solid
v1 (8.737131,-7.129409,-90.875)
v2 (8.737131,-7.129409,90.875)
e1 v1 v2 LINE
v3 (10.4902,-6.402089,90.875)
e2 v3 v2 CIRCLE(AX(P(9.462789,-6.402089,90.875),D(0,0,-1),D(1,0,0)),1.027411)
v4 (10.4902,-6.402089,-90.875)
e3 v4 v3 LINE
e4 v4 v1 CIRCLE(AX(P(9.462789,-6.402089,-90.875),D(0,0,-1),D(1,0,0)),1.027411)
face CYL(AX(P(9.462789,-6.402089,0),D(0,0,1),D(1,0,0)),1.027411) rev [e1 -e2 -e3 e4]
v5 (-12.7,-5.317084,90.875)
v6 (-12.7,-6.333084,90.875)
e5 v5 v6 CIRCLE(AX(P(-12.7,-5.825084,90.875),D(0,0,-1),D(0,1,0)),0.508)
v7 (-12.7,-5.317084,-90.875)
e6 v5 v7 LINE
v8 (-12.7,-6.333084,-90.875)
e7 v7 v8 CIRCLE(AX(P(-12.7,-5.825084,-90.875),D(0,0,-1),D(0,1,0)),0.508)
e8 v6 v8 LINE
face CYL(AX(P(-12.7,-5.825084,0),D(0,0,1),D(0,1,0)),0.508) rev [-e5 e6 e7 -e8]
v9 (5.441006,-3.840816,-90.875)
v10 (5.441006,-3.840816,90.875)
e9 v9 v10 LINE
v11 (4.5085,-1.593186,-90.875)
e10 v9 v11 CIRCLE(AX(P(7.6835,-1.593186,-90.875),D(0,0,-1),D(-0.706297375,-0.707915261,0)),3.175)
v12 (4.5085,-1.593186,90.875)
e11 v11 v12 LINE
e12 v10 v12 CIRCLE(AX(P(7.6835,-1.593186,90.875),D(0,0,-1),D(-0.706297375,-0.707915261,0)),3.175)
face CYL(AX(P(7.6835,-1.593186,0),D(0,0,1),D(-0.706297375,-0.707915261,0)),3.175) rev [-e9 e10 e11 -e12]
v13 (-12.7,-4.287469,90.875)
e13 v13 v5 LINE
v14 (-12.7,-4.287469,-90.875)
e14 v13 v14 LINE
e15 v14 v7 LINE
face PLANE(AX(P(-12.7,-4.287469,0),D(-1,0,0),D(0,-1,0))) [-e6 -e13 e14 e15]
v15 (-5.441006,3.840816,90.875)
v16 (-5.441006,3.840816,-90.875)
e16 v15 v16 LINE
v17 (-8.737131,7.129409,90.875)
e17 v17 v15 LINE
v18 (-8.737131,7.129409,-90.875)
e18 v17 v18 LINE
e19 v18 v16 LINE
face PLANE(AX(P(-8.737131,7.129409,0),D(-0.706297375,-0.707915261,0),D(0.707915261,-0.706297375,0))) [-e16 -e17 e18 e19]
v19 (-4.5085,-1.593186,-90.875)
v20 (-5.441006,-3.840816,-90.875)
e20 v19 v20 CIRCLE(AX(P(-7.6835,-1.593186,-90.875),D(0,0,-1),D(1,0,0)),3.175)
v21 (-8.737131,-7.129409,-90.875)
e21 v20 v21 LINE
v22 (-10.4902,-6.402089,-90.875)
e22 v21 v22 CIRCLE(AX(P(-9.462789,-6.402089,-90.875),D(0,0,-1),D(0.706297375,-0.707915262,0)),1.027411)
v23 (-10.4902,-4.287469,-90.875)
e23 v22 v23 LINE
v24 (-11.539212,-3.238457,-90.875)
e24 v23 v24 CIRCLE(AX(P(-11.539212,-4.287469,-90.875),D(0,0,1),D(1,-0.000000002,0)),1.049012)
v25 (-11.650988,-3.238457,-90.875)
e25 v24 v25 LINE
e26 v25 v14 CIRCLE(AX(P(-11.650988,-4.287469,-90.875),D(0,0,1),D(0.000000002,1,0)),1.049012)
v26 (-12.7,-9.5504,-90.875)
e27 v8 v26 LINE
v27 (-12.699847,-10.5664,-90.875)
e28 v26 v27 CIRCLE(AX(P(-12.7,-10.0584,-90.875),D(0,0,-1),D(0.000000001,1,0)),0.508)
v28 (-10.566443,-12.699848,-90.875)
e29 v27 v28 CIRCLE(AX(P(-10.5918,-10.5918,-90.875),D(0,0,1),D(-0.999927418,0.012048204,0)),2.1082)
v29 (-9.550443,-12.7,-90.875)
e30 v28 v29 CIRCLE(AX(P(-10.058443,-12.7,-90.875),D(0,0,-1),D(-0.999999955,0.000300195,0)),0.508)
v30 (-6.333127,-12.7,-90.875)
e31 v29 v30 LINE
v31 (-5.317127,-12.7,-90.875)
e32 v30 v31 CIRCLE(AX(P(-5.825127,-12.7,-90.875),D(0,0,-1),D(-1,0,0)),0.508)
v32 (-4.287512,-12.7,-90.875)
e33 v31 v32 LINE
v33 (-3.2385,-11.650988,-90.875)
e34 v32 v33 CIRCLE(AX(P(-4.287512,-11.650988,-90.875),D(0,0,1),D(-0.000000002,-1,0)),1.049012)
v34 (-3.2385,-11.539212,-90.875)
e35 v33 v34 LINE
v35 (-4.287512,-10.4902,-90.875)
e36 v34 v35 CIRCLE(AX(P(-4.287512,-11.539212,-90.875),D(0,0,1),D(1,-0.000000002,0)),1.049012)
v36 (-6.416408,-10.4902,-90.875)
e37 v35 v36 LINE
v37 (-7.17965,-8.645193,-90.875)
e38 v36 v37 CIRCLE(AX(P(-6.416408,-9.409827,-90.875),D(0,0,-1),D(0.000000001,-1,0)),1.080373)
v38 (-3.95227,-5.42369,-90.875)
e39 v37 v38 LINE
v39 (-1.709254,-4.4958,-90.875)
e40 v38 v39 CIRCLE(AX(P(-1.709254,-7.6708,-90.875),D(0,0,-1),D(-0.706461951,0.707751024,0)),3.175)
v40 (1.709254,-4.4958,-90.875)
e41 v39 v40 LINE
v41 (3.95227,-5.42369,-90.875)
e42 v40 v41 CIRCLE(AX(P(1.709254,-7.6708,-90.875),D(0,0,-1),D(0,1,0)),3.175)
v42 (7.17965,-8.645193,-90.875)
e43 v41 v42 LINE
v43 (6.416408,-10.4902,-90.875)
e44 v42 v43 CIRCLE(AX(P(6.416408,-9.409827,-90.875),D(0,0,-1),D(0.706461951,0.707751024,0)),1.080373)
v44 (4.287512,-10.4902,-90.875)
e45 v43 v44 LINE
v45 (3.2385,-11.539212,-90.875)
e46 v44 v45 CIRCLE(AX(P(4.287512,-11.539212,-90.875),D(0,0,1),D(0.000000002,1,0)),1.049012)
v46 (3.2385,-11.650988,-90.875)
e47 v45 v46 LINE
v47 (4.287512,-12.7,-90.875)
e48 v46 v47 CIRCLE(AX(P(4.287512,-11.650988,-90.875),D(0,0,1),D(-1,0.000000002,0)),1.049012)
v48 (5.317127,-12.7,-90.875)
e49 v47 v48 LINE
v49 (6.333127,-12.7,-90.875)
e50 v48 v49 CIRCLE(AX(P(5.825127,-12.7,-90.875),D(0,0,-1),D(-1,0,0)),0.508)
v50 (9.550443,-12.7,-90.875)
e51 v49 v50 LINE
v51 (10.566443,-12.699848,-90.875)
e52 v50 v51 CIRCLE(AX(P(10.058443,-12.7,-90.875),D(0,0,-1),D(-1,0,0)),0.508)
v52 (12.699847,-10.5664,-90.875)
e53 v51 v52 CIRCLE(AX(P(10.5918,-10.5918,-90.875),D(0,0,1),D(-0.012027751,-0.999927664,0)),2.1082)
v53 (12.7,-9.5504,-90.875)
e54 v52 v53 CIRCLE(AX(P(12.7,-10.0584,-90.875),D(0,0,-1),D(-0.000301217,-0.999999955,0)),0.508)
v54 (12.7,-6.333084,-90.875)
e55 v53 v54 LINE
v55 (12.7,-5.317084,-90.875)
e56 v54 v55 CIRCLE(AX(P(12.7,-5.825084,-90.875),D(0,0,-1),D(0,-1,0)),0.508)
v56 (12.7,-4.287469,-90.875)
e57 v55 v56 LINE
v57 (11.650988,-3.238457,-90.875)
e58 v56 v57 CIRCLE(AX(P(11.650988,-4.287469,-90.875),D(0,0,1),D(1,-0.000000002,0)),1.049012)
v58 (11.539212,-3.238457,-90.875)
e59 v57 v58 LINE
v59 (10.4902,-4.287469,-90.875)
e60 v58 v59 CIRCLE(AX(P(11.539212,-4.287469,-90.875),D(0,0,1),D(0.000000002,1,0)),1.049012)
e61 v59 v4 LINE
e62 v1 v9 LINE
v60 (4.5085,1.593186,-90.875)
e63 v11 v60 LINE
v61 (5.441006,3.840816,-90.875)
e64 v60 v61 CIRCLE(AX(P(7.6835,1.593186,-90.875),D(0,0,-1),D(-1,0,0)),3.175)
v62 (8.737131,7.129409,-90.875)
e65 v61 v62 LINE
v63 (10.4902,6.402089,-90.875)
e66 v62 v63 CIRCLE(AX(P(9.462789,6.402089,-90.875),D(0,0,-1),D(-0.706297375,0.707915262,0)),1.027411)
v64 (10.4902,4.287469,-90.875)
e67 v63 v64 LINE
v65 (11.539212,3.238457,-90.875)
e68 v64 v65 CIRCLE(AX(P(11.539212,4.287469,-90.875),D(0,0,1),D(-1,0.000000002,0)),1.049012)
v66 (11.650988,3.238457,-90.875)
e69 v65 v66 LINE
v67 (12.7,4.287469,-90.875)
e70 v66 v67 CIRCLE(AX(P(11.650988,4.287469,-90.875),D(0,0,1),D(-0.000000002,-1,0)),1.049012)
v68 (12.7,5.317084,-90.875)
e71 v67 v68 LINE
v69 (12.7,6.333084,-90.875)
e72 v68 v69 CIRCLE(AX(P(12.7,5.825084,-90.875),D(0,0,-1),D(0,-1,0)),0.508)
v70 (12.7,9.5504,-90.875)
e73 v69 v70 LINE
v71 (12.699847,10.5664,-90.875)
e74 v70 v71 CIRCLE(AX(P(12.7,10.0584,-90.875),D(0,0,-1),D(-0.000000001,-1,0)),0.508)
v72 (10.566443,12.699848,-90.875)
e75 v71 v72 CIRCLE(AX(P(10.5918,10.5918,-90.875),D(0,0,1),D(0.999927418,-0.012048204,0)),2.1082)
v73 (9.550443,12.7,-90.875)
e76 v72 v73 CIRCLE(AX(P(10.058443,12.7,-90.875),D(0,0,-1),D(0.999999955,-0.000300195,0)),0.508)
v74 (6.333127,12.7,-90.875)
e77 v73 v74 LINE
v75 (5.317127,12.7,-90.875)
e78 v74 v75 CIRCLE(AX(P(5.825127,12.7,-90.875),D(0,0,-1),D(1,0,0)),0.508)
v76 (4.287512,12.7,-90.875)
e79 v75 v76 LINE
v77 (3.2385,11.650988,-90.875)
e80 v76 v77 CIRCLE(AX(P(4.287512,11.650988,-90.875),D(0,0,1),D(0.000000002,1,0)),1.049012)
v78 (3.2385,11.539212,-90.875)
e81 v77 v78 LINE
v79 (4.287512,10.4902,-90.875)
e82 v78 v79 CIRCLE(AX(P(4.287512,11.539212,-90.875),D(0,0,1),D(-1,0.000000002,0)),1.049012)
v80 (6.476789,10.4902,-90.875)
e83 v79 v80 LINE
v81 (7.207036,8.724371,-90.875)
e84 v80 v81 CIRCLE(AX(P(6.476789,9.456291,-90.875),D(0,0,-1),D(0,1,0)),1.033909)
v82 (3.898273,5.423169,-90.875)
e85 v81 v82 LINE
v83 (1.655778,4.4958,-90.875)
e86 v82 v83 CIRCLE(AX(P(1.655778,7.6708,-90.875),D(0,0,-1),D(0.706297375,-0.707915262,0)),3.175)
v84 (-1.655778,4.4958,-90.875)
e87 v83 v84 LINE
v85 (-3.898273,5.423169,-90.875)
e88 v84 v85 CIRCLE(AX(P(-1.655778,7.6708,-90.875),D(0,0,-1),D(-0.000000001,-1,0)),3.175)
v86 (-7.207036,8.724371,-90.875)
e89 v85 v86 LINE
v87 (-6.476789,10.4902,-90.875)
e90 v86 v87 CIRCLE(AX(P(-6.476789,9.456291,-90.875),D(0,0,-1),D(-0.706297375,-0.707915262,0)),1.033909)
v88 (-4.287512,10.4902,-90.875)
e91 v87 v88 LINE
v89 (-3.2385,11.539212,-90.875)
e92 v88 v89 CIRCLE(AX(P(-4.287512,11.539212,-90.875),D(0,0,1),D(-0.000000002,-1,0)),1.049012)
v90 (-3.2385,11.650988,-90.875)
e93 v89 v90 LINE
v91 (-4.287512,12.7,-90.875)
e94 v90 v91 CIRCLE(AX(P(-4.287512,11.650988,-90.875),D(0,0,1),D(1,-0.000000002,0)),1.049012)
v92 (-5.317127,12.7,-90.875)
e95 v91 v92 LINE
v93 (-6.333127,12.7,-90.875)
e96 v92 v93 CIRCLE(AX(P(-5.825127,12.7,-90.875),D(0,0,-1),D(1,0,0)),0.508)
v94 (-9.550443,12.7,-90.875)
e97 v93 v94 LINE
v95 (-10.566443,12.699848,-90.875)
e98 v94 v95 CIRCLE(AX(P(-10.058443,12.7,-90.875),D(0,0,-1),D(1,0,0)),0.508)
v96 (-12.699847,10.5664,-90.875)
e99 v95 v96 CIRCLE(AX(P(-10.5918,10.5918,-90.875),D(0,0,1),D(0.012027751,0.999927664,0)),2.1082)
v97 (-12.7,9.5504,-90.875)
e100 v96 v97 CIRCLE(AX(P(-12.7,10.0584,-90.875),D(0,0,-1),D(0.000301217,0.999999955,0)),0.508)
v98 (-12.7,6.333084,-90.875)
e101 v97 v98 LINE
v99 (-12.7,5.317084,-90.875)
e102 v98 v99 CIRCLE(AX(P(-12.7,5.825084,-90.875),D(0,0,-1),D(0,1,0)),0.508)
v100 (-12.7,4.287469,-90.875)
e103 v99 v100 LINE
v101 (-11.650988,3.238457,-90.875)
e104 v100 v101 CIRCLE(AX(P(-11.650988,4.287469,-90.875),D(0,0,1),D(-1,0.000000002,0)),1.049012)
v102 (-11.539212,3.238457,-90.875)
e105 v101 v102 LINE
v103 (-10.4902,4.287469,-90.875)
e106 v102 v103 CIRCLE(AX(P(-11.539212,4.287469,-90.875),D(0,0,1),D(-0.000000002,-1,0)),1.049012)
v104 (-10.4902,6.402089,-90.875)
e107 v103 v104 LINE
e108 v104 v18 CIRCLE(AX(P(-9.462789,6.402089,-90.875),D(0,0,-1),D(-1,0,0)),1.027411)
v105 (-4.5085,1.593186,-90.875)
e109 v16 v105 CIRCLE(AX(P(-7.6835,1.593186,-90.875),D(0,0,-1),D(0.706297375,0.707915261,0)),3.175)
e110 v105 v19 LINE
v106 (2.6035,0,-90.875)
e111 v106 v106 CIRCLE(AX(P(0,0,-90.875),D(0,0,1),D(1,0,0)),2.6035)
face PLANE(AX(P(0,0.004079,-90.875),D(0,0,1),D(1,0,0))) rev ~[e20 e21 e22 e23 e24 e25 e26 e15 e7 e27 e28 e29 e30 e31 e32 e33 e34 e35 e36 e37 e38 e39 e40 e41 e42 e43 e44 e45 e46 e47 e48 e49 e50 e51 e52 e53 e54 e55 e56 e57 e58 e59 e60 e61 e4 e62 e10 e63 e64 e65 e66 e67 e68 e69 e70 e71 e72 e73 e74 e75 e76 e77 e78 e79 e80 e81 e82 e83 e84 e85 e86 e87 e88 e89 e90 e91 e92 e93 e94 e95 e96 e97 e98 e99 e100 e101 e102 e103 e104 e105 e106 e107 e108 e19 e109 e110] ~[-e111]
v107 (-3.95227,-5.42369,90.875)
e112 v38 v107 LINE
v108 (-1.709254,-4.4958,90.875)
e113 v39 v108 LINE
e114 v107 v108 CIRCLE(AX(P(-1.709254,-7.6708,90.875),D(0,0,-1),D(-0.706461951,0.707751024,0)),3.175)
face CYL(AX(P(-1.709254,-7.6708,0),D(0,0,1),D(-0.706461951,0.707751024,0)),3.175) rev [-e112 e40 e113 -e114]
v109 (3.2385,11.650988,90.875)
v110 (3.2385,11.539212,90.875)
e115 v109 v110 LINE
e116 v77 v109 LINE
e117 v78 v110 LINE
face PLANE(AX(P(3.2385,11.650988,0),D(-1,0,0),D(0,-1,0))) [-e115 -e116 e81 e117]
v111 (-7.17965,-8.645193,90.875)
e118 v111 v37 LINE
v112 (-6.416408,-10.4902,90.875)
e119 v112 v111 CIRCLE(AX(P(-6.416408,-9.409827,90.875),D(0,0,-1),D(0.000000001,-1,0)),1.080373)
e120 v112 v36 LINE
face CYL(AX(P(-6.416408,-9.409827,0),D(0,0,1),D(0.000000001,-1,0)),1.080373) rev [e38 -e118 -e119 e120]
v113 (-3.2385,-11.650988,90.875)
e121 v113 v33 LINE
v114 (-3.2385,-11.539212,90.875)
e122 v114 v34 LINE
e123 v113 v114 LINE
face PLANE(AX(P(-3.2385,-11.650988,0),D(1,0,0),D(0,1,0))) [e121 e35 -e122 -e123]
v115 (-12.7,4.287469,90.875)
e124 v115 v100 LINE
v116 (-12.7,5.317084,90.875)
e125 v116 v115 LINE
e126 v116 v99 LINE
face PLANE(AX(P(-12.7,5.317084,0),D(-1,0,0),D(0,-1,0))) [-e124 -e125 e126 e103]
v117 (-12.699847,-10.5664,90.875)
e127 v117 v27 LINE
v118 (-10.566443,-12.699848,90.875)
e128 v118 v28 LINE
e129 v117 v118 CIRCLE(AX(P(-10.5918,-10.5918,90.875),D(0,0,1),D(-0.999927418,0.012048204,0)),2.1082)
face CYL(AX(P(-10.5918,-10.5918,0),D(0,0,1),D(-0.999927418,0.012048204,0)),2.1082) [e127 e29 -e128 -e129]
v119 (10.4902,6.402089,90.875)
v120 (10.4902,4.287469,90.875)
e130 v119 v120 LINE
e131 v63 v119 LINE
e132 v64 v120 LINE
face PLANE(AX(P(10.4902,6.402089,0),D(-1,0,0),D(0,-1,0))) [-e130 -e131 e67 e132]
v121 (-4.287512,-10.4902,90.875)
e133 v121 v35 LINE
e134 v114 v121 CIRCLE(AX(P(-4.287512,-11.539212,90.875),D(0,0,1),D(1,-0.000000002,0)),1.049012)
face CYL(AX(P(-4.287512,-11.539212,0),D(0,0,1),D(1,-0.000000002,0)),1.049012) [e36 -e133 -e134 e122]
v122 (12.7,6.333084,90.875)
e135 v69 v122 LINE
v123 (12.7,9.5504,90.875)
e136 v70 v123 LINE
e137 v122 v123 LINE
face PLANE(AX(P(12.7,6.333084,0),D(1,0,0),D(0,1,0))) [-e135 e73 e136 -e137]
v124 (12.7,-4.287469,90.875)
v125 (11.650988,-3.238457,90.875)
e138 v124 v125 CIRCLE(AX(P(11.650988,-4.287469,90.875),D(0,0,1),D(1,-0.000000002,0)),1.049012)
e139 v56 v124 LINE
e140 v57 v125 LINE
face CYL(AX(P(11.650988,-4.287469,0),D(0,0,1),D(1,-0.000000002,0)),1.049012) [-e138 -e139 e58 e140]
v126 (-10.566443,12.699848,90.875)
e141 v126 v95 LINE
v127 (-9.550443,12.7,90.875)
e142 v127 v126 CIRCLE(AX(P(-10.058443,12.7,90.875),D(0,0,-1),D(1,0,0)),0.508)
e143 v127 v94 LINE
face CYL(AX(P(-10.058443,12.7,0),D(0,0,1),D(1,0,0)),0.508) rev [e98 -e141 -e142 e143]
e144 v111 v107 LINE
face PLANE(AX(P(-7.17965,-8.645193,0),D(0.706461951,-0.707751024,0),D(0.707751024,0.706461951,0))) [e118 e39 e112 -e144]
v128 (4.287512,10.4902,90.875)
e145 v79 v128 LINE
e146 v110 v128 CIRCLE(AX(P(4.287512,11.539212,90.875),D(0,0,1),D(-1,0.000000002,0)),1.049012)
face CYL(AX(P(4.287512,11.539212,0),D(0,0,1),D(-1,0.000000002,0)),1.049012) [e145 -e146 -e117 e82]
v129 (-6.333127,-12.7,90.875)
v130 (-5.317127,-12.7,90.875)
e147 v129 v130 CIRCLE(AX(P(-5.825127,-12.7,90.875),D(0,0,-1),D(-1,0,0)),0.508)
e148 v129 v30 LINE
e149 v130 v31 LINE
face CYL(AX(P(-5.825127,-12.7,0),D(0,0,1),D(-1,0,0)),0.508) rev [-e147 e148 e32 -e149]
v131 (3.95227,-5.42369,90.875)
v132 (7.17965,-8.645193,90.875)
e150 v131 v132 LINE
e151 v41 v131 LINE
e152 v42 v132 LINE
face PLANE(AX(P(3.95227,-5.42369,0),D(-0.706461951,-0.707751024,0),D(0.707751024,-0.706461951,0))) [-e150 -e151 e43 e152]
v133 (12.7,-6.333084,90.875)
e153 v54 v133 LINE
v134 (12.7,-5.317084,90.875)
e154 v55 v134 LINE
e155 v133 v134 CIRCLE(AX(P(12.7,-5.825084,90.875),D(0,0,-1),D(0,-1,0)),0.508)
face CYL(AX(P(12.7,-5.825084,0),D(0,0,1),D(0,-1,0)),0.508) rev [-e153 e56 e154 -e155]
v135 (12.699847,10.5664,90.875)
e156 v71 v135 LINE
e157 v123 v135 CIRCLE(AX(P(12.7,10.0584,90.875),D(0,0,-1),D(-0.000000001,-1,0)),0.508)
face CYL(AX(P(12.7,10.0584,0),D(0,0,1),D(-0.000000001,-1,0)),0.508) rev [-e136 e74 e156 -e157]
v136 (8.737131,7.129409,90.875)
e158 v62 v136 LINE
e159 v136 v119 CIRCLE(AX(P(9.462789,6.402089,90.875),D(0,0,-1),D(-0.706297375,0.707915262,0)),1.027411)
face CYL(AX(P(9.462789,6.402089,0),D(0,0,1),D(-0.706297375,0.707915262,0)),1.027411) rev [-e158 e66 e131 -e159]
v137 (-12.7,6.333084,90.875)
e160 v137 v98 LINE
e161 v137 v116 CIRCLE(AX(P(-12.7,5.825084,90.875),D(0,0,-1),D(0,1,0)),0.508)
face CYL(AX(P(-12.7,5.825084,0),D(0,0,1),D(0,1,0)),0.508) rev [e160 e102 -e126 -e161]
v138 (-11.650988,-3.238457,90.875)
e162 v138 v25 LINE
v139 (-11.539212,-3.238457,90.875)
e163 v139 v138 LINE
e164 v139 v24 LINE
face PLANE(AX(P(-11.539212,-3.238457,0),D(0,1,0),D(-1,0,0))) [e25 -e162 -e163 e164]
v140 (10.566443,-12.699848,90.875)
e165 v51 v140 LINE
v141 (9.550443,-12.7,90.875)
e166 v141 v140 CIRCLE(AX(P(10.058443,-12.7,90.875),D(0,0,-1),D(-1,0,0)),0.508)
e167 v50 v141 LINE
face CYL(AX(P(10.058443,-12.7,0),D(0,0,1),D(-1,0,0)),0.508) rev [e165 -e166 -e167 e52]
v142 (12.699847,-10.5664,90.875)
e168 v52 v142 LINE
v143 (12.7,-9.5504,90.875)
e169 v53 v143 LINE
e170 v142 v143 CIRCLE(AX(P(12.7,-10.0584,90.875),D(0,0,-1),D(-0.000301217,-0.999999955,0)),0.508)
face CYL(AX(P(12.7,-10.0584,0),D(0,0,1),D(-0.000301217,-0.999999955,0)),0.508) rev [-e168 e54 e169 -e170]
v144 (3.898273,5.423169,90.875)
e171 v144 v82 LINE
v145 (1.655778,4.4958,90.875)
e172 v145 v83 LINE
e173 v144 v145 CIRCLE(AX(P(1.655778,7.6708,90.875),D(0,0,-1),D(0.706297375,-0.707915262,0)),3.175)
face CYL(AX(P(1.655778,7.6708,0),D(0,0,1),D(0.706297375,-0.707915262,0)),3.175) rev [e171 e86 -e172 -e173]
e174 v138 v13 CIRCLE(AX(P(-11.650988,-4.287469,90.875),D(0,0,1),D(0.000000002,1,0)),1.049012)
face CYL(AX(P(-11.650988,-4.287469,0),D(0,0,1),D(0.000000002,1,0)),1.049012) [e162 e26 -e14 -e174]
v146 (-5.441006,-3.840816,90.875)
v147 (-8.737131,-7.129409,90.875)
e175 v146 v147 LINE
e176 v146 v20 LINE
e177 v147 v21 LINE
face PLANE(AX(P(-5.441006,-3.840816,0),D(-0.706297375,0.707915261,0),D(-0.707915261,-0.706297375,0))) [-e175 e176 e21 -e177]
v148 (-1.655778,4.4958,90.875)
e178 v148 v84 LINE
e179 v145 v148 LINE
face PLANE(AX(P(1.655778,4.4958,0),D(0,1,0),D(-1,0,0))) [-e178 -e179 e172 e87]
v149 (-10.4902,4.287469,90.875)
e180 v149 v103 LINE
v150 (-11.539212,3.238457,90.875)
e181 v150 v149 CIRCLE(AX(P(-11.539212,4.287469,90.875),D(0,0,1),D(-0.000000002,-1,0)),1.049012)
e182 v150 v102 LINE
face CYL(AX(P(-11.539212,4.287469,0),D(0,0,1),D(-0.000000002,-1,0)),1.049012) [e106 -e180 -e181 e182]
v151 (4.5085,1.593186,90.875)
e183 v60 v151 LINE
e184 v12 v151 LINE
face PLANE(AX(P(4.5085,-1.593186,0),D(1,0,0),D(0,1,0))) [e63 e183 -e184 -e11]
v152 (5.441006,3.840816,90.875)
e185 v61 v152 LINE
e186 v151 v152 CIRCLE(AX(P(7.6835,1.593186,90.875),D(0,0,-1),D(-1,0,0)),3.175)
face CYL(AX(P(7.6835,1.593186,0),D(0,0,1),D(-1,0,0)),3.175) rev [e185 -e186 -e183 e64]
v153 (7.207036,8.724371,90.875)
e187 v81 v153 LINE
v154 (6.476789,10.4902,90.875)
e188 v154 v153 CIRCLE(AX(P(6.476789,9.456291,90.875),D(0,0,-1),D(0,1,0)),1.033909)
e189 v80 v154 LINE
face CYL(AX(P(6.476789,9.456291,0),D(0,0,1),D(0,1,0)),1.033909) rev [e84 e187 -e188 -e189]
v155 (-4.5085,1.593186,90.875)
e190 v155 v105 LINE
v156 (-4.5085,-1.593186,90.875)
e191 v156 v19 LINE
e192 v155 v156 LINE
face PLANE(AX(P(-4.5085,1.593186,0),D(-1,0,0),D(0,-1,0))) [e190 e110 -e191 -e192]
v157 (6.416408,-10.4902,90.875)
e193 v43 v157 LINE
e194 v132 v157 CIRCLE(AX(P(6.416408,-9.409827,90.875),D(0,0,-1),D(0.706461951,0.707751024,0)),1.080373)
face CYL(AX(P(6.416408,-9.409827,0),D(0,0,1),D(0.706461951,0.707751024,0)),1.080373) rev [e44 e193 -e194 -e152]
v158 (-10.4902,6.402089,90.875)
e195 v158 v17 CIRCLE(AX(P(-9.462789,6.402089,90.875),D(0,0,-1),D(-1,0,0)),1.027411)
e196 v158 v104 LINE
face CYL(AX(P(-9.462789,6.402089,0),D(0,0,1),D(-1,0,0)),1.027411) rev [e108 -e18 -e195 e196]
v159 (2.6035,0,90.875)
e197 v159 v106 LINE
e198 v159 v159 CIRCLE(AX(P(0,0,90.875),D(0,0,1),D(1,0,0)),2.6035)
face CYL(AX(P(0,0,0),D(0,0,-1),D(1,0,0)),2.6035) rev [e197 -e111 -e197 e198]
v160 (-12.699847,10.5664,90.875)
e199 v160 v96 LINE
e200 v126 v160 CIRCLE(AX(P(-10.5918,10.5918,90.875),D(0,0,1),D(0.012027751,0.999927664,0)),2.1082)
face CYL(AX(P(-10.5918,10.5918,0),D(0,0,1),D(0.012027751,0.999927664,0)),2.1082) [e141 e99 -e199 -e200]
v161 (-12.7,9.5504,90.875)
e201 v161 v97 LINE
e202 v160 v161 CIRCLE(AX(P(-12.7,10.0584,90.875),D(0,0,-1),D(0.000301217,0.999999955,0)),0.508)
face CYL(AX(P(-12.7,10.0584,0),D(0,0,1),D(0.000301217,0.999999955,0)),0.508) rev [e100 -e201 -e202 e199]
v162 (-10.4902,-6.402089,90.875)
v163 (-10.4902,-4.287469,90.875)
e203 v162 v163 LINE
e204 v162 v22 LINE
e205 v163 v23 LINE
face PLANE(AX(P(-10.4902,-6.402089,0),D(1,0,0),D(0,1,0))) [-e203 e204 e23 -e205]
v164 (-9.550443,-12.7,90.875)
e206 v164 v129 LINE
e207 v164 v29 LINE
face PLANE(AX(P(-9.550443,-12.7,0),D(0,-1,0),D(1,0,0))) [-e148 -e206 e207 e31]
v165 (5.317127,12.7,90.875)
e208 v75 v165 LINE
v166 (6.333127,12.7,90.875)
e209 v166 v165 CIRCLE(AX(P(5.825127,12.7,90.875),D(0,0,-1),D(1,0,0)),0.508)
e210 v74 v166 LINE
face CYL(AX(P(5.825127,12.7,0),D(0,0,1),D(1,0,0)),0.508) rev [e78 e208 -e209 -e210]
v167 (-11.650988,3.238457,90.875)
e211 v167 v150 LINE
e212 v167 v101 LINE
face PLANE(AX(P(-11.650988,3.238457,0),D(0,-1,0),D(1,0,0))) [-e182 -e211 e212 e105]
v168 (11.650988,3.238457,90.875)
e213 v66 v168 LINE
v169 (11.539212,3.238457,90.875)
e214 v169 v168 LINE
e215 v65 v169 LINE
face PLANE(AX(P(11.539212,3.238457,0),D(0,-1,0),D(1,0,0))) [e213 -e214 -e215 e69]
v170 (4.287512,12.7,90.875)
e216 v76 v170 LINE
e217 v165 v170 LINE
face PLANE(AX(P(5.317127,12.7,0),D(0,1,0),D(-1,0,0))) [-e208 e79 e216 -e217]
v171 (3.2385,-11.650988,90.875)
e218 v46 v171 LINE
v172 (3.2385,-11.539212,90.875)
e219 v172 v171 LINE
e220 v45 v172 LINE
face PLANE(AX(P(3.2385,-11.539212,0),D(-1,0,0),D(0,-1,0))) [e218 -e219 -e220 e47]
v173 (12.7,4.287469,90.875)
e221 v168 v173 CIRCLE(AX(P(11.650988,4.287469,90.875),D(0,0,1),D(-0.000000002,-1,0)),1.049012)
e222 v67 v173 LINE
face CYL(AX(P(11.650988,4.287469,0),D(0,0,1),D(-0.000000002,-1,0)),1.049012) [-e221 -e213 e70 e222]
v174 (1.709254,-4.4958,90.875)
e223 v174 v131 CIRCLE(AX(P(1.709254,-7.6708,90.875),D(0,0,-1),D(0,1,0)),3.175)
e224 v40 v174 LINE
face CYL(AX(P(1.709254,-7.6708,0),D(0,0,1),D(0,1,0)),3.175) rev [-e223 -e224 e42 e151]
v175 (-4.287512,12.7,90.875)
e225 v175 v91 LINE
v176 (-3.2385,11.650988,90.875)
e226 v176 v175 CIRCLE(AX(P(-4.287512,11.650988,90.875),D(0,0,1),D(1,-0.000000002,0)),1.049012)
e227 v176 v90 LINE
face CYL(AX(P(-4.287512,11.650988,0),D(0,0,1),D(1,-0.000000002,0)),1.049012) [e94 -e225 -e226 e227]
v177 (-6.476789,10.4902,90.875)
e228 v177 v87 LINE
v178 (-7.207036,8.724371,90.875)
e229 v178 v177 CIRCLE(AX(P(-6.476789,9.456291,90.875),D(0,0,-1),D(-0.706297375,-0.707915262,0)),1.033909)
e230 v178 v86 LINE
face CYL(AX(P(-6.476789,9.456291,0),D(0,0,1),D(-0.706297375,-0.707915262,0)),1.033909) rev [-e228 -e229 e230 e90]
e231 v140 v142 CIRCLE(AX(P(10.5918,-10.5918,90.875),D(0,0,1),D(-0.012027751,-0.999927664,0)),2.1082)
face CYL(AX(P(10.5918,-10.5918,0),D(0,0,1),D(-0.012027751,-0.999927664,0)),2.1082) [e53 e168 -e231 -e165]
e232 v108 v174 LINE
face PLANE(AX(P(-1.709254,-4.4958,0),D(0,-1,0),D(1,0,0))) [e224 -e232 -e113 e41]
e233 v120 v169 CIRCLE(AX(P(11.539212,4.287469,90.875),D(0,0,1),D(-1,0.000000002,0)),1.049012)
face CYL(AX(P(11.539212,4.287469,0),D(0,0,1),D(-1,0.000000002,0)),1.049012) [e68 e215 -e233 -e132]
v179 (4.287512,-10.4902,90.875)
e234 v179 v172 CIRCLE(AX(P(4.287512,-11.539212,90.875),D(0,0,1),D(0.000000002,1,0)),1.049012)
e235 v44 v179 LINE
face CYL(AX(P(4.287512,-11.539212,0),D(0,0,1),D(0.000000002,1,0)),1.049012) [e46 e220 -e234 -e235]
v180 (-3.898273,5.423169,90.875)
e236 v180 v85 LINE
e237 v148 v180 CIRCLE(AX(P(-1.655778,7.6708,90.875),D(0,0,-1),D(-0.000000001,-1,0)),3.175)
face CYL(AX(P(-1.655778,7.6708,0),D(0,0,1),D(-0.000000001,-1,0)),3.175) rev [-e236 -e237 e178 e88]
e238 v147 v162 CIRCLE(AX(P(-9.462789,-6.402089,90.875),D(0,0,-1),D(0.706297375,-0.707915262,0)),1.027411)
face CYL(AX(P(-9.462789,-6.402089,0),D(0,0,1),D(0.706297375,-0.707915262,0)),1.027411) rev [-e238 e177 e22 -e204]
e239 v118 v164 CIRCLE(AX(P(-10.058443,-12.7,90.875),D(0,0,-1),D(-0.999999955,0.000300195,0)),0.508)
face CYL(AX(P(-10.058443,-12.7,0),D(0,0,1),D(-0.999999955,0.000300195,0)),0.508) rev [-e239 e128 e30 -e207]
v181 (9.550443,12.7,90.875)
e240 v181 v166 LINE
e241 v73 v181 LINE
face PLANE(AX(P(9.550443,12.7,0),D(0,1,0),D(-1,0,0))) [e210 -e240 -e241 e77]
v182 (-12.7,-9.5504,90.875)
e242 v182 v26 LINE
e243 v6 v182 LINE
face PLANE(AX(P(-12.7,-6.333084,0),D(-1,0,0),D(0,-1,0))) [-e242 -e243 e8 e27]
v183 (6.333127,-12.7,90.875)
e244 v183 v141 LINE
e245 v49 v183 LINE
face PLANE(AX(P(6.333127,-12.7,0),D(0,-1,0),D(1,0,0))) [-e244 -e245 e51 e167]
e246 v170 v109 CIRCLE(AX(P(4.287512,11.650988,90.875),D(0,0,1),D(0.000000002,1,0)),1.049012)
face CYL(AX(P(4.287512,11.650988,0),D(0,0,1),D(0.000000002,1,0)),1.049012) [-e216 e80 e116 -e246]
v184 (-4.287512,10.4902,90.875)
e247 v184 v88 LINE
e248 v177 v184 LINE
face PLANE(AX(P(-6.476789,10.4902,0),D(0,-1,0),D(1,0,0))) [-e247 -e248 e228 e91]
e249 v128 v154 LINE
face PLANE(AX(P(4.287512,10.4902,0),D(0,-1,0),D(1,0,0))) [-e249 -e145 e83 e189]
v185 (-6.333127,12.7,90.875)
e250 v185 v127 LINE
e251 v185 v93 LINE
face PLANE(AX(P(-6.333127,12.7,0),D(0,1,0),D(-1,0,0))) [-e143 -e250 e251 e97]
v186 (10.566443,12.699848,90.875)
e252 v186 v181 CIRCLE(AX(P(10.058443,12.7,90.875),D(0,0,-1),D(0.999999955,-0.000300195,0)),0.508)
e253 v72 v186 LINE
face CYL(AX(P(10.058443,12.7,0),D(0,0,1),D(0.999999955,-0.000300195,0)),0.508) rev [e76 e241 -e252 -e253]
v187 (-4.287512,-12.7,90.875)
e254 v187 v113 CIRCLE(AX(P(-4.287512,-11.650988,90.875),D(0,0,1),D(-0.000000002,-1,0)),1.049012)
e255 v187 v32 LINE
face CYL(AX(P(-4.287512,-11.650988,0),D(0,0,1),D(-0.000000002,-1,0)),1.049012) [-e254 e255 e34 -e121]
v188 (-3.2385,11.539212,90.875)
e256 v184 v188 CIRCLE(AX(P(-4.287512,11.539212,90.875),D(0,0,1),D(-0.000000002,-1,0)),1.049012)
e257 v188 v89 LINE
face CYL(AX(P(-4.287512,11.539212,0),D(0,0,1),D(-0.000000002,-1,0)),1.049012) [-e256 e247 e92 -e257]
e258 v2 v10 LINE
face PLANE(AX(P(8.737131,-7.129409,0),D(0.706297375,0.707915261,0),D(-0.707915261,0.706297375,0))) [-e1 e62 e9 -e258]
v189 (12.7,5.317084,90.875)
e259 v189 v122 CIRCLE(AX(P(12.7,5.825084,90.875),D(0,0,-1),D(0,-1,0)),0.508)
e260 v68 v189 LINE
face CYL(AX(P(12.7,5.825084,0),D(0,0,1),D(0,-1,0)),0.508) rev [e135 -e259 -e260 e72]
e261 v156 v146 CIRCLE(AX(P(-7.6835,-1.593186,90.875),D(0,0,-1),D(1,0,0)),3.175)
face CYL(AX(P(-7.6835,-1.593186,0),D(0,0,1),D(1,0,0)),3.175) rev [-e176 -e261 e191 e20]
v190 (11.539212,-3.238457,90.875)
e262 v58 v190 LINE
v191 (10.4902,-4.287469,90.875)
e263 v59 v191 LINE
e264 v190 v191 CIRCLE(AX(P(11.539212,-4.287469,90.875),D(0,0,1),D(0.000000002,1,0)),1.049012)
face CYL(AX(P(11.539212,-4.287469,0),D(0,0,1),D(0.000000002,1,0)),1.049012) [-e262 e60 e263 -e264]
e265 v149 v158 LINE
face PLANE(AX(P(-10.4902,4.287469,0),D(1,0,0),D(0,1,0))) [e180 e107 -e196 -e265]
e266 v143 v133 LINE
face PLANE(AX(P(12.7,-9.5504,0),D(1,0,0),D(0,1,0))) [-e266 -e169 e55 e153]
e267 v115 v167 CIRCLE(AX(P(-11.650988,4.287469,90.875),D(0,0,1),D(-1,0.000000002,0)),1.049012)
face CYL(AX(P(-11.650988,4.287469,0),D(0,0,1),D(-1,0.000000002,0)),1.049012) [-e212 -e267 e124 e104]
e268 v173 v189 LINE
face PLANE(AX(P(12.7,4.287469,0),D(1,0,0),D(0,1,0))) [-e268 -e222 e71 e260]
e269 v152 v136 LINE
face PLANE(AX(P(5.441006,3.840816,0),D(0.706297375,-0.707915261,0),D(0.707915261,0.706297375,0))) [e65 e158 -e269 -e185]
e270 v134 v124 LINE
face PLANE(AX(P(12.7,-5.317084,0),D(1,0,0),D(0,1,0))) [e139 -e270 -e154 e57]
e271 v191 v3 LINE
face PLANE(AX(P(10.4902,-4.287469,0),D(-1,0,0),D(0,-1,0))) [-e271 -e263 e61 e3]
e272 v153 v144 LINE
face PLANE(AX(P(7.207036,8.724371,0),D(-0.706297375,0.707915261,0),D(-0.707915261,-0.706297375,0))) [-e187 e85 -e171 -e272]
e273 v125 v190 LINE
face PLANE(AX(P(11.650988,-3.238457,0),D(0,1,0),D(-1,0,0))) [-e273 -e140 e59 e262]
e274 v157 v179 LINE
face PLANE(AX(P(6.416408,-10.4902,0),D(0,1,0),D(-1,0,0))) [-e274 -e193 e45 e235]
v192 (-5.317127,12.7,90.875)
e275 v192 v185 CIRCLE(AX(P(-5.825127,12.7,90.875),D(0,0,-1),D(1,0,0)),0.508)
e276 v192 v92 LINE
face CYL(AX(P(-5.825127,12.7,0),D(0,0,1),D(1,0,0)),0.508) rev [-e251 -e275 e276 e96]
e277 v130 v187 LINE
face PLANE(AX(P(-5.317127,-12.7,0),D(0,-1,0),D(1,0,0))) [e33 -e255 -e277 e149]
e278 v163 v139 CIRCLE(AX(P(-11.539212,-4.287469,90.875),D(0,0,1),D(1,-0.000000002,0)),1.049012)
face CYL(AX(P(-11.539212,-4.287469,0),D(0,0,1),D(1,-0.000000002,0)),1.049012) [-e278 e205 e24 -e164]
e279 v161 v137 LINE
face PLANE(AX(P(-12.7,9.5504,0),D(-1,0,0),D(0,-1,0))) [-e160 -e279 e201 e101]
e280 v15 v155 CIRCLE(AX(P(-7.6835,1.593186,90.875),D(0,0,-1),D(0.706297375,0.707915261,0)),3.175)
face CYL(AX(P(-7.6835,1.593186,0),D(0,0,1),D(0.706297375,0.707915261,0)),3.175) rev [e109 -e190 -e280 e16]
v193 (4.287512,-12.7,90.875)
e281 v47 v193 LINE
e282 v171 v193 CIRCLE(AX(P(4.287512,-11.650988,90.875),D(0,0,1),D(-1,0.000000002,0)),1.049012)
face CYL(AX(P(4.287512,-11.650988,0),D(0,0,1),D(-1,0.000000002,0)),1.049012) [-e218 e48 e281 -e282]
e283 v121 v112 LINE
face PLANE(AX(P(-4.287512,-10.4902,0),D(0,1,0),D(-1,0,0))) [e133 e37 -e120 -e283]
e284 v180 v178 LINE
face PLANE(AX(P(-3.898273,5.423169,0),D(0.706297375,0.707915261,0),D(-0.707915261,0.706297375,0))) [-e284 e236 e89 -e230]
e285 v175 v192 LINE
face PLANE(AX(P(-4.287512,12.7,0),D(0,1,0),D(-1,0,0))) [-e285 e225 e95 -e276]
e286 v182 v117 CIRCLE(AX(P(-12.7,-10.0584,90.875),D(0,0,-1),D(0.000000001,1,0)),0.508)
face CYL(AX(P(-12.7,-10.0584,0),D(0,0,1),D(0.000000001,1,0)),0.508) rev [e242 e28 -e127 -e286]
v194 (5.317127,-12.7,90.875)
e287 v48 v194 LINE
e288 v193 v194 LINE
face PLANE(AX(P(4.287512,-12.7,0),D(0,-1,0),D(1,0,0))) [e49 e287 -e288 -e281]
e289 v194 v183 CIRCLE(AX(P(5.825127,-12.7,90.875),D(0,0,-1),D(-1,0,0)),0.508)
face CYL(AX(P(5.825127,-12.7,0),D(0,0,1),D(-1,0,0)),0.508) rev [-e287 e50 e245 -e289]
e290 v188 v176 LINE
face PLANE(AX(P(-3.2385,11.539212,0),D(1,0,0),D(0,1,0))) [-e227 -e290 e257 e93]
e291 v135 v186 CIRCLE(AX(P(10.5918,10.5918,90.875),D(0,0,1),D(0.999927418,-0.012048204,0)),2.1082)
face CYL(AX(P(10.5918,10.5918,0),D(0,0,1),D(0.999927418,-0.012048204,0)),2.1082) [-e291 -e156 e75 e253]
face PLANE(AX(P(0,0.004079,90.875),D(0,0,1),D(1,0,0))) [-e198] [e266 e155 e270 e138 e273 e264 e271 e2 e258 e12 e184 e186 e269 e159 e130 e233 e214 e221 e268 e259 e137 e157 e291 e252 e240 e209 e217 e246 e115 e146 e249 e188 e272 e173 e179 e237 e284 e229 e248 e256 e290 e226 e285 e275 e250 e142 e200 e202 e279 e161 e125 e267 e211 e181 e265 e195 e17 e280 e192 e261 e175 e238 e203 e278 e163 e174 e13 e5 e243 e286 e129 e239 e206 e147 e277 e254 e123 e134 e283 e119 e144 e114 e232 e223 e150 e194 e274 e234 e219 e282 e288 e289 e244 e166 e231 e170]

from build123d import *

# Parameters (mm, degrees)
SKETCH1_R           = 2.6035
BOSS_EXTRUDE1_DEPTH = 90.875


with BuildPart() as part:
    # Sketch1 → Boss-Extrude1 (new body, symmetric)
    with BuildSketch(Plane.XY):
        with BuildLine():
            Line((-7.179650497, -8.645192506), (-3.952270251, -5.423690499))
            ThreePointArc((-3.952270251, -5.423690499), (-2.922936451, -4.736929036), (-1.709253557, -4.4958))
            Line((-1.709253557, -4.4958), (1.709253557, -4.4958))
            ThreePointArc((1.709253557, -4.4958), (2.922936451, -4.736929036), (3.952270251, -5.423690499))
            Line((3.952270251, -5.423690499), (7.179650497, -8.645192506))
            ThreePointArc((7.179650497, -8.645192506), (7.41473083, -9.822813117), (6.416408329, -10.4902))
            Line((6.416408329, -10.4902), (4.287512407, -10.4902))
            ThreePointArc((4.287512407, -10.4902), (3.54574862, -10.79744862), (3.2385, -11.539212407))
            Line((3.2385, -11.539212407), (3.2385, -11.650987593))
            ThreePointArc((3.2385, -11.650987593), (3.54574862, -12.39275138), (4.287512407, -12.7))
            Line((4.287512407, -12.7), (5.317126718, -12.7))
            ThreePointArc((5.317126718, -12.7), (5.825126718, -12.192), (6.333126718, -12.7))
            Line((6.333126718, -12.7), (9.550443118, -12.7))
            ThreePointArc((9.550443118, -12.7), (10.058366869, -12.192000006), (10.566443095, -12.699847501))
            ThreePointArc((10.566443095, -12.699847501), (12.082537762, -12.08250727), (12.699846982, -10.566399977))
            ThreePointArc((12.699846982, -10.566399977), (12.192000006, -10.058323491), (12.7, -9.5504))
            Line((12.7, -9.5504), (12.7, -6.3330836))
            ThreePointArc((12.7, -6.3330836), (12.192, -5.8250836), (12.7, -5.3170836))
            Line((12.7, -5.3170836), (12.7, -4.287469289))
            ThreePointArc((12.7, -4.287469289), (12.39275138, -3.545705502), (11.650987593, -3.238456882))
            Line((11.650987593, -3.238456882), (11.539212407, -3.238456882))
            ThreePointArc((11.539212407, -3.238456882), (10.79744862, -3.545705502), (10.4902, -4.287469289))
            Line((10.4902, -4.287469289), (10.4902, -6.402089023))
            ThreePointArc((10.4902, -6.402089023), (9.856505071, -7.351067942), (8.737131347, -7.129408934))
            Line((8.737131347, -7.129408934), (5.441005833, -3.840816462))
            ThreePointArc((5.441005833, -3.840816462), (4.750877967, -2.809883091), (4.5085, -1.593185507))
            Line((4.5085, -1.593185507), (4.5085, 1.593185507))
            ThreePointArc((4.5085, 1.593185507), (4.750877967, 2.809883091), (5.441005833, 3.840816462))
            Line((5.441005833, 3.840816462), (8.737131347, 7.129408934))
            ThreePointArc((8.737131347, 7.129408934), (9.856505071, 7.351067942), (10.4902, 6.402089023))
            Line((10.4902, 6.402089023), (10.4902, 4.287469289))
            ThreePointArc((10.4902, 4.287469289), (10.79744862, 3.545705502), (11.539212407, 3.238456882))
            Line((11.539212407, 3.238456882), (11.650987593, 3.238456882))
            ThreePointArc((11.650987593, 3.238456882), (12.39275138, 3.545705502), (12.7, 4.287469289))
            Line((12.7, 4.287469289), (12.7, 5.3170836))
            ThreePointArc((12.7, 5.3170836), (12.192, 5.8250836), (12.7, 6.3330836))
            Line((12.7, 6.3330836), (12.7, 9.5504))
            ThreePointArc((12.7, 9.5504), (12.192000006, 10.058323491), (12.699846982, 10.566399977))
            ThreePointArc((12.699846982, 10.566399977), (12.082537762, 12.08250727), (10.566443095, 12.699847501))
            ThreePointArc((10.566443095, 12.699847501), (10.058366869, 12.192000006), (9.550443118, 12.7))
            Line((9.550443118, 12.7), (6.333126718, 12.7))
            ThreePointArc((6.333126718, 12.7), (5.825126718, 12.192), (5.317126718, 12.7))
            Line((5.317126718, 12.7), (4.287512407, 12.7))
            ThreePointArc((4.287512407, 12.7), (3.54574862, 12.39275138), (3.2385, 11.650987593))
            Line((3.2385, 11.650987593), (3.2385, 11.539212407))
            ThreePointArc((3.2385, 11.539212407), (3.54574862, 10.79744862), (4.287512407, 10.4902))
            Line((4.287512407, 10.4902), (6.476788598, 10.4902))
            ThreePointArc((6.476788598, 10.4902), (7.432222385, 9.85140422), (7.207036008, 8.724370562))
            Line((7.207036008, 8.724370562), (3.898272566, 5.423169045))
            ThreePointArc((3.898272566, 5.423169045), (2.869120213, 4.736787962), (1.655778399, 4.4958))
            Line((1.655778399, 4.4958), (-1.655778399, 4.4958))
            ThreePointArc((-1.655778399, 4.4958), (-2.869120213, 4.736787962), (-3.898272566, 5.423169045))
            Line((-3.898272566, 5.423169045), (-7.207036008, 8.724370562))
            ThreePointArc((-7.207036008, 8.724370562), (-7.432222385, 9.85140422), (-6.476788598, 10.4902))
            Line((-6.476788598, 10.4902), (-4.287512407, 10.4902))
            ThreePointArc((-4.287512407, 10.4902), (-3.54574862, 10.79744862), (-3.2385, 11.539212407))
            Line((-3.2385, 11.539212407), (-3.2385, 11.650987593))
            ThreePointArc((-3.2385, 11.650987593), (-3.54574862, 12.39275138), (-4.287512407, 12.7))
            Line((-4.287512407, 12.7), (-5.317126718, 12.7))
            ThreePointArc((-5.317126718, 12.7), (-5.825126718, 12.192), (-6.333126718, 12.7))
            Line((-6.333126718, 12.7), (-9.550443118, 12.7))
            ThreePointArc((-9.550443118, 12.7), (-10.058366869, 12.192000006), (-10.566443095, 12.699847501))
            ThreePointArc((-10.566443095, 12.699847501), (-12.082537762, 12.08250727), (-12.699846982, 10.566399977))
            ThreePointArc((-12.699846982, 10.566399977), (-12.192000006, 10.058323491), (-12.7, 9.5504))
            Line((-12.7, 9.5504), (-12.7, 6.3330836))
            ThreePointArc((-12.7, 6.3330836), (-12.192, 5.8250836), (-12.7, 5.3170836))
            Line((-12.7, 5.3170836), (-12.7, 4.287469289))
            ThreePointArc((-12.7, 4.287469289), (-12.39275138, 3.545705502), (-11.650987593, 3.238456882))
            Line((-11.650987593, 3.238456882), (-11.539212407, 3.238456882))
            ThreePointArc((-11.539212407, 3.238456882), (-10.79744862, 3.545705502), (-10.4902, 4.287469289))
            Line((-10.4902, 4.287469289), (-10.4902, 6.402089023))
            ThreePointArc((-10.4902, 6.402089023), (-9.856505071, 7.351067942), (-8.737131347, 7.129408934))
            Line((-8.737131347, 7.129408934), (-5.441005833, 3.840816462))
            ThreePointArc((-5.441005833, 3.840816462), (-4.750877967, 2.809883091), (-4.5085, 1.593185507))
            Line((-4.5085, 1.593185507), (-4.5085, -1.593185507))
            ThreePointArc((-4.5085, -1.593185507), (-4.750877967, -2.809883091), (-5.441005833, -3.840816462))
            Line((-5.441005833, -3.840816462), (-8.737131347, -7.129408934))
            ThreePointArc((-8.737131347, -7.129408934), (-9.856505071, -7.351067942), (-10.4902, -6.402089023))
            Line((-10.4902, -6.402089023), (-10.4902, -4.287469289))
            ThreePointArc((-10.4902, -4.287469289), (-10.79744862, -3.545705502), (-11.539212407, -3.238456882))
            Line((-11.539212407, -3.238456882), (-11.650987593, -3.238456882))
            ThreePointArc((-11.650987593, -3.238456882), (-12.39275138, -3.545705502), (-12.7, -4.287469289))
            Line((-12.7, -4.287469289), (-12.7, -5.3170836))
            ThreePointArc((-12.7, -5.3170836), (-12.192, -5.8250836), (-12.7, -6.3330836))
            Line((-12.7, -6.3330836), (-12.7, -9.5504))
            ThreePointArc((-12.7, -9.5504), (-12.192000006, -10.058323491), (-12.699846982, -10.566399977))
            ThreePointArc((-12.699846982, -10.566399977), (-12.082537762, -12.08250727), (-10.566443095, -12.699847501))
            ThreePointArc((-10.566443095, -12.699847501), (-10.058366869, -12.192000006), (-9.550443118, -12.7))
            Line((-9.550443118, -12.7), (-6.333126718, -12.7))
            ThreePointArc((-6.333126718, -12.7), (-5.825126718, -12.192), (-5.317126718, -12.7))
            Line((-5.317126718, -12.7), (-4.287512407, -12.7))
            ThreePointArc((-4.287512407, -12.7), (-3.54574862, -12.39275138), (-3.2385, -11.650987593))
            Line((-3.2385, -11.650987593), (-3.2385, -11.539212407))
            ThreePointArc((-3.2385, -11.539212407), (-3.54574862, -10.79744862), (-4.287512407, -10.4902))
            Line((-4.287512407, -10.4902), (-6.416408329, -10.4902))
            ThreePointArc((-6.416408329, -10.4902), (-7.41473083, -9.822813117), (-7.179650497, -8.645192506))
        make_face()
        Circle(SKETCH1_R, mode=Mode.SUBTRACT)
    extrude(amount=BOSS_EXTRUDE1_DEPTH, both=True)


solid = part.part
